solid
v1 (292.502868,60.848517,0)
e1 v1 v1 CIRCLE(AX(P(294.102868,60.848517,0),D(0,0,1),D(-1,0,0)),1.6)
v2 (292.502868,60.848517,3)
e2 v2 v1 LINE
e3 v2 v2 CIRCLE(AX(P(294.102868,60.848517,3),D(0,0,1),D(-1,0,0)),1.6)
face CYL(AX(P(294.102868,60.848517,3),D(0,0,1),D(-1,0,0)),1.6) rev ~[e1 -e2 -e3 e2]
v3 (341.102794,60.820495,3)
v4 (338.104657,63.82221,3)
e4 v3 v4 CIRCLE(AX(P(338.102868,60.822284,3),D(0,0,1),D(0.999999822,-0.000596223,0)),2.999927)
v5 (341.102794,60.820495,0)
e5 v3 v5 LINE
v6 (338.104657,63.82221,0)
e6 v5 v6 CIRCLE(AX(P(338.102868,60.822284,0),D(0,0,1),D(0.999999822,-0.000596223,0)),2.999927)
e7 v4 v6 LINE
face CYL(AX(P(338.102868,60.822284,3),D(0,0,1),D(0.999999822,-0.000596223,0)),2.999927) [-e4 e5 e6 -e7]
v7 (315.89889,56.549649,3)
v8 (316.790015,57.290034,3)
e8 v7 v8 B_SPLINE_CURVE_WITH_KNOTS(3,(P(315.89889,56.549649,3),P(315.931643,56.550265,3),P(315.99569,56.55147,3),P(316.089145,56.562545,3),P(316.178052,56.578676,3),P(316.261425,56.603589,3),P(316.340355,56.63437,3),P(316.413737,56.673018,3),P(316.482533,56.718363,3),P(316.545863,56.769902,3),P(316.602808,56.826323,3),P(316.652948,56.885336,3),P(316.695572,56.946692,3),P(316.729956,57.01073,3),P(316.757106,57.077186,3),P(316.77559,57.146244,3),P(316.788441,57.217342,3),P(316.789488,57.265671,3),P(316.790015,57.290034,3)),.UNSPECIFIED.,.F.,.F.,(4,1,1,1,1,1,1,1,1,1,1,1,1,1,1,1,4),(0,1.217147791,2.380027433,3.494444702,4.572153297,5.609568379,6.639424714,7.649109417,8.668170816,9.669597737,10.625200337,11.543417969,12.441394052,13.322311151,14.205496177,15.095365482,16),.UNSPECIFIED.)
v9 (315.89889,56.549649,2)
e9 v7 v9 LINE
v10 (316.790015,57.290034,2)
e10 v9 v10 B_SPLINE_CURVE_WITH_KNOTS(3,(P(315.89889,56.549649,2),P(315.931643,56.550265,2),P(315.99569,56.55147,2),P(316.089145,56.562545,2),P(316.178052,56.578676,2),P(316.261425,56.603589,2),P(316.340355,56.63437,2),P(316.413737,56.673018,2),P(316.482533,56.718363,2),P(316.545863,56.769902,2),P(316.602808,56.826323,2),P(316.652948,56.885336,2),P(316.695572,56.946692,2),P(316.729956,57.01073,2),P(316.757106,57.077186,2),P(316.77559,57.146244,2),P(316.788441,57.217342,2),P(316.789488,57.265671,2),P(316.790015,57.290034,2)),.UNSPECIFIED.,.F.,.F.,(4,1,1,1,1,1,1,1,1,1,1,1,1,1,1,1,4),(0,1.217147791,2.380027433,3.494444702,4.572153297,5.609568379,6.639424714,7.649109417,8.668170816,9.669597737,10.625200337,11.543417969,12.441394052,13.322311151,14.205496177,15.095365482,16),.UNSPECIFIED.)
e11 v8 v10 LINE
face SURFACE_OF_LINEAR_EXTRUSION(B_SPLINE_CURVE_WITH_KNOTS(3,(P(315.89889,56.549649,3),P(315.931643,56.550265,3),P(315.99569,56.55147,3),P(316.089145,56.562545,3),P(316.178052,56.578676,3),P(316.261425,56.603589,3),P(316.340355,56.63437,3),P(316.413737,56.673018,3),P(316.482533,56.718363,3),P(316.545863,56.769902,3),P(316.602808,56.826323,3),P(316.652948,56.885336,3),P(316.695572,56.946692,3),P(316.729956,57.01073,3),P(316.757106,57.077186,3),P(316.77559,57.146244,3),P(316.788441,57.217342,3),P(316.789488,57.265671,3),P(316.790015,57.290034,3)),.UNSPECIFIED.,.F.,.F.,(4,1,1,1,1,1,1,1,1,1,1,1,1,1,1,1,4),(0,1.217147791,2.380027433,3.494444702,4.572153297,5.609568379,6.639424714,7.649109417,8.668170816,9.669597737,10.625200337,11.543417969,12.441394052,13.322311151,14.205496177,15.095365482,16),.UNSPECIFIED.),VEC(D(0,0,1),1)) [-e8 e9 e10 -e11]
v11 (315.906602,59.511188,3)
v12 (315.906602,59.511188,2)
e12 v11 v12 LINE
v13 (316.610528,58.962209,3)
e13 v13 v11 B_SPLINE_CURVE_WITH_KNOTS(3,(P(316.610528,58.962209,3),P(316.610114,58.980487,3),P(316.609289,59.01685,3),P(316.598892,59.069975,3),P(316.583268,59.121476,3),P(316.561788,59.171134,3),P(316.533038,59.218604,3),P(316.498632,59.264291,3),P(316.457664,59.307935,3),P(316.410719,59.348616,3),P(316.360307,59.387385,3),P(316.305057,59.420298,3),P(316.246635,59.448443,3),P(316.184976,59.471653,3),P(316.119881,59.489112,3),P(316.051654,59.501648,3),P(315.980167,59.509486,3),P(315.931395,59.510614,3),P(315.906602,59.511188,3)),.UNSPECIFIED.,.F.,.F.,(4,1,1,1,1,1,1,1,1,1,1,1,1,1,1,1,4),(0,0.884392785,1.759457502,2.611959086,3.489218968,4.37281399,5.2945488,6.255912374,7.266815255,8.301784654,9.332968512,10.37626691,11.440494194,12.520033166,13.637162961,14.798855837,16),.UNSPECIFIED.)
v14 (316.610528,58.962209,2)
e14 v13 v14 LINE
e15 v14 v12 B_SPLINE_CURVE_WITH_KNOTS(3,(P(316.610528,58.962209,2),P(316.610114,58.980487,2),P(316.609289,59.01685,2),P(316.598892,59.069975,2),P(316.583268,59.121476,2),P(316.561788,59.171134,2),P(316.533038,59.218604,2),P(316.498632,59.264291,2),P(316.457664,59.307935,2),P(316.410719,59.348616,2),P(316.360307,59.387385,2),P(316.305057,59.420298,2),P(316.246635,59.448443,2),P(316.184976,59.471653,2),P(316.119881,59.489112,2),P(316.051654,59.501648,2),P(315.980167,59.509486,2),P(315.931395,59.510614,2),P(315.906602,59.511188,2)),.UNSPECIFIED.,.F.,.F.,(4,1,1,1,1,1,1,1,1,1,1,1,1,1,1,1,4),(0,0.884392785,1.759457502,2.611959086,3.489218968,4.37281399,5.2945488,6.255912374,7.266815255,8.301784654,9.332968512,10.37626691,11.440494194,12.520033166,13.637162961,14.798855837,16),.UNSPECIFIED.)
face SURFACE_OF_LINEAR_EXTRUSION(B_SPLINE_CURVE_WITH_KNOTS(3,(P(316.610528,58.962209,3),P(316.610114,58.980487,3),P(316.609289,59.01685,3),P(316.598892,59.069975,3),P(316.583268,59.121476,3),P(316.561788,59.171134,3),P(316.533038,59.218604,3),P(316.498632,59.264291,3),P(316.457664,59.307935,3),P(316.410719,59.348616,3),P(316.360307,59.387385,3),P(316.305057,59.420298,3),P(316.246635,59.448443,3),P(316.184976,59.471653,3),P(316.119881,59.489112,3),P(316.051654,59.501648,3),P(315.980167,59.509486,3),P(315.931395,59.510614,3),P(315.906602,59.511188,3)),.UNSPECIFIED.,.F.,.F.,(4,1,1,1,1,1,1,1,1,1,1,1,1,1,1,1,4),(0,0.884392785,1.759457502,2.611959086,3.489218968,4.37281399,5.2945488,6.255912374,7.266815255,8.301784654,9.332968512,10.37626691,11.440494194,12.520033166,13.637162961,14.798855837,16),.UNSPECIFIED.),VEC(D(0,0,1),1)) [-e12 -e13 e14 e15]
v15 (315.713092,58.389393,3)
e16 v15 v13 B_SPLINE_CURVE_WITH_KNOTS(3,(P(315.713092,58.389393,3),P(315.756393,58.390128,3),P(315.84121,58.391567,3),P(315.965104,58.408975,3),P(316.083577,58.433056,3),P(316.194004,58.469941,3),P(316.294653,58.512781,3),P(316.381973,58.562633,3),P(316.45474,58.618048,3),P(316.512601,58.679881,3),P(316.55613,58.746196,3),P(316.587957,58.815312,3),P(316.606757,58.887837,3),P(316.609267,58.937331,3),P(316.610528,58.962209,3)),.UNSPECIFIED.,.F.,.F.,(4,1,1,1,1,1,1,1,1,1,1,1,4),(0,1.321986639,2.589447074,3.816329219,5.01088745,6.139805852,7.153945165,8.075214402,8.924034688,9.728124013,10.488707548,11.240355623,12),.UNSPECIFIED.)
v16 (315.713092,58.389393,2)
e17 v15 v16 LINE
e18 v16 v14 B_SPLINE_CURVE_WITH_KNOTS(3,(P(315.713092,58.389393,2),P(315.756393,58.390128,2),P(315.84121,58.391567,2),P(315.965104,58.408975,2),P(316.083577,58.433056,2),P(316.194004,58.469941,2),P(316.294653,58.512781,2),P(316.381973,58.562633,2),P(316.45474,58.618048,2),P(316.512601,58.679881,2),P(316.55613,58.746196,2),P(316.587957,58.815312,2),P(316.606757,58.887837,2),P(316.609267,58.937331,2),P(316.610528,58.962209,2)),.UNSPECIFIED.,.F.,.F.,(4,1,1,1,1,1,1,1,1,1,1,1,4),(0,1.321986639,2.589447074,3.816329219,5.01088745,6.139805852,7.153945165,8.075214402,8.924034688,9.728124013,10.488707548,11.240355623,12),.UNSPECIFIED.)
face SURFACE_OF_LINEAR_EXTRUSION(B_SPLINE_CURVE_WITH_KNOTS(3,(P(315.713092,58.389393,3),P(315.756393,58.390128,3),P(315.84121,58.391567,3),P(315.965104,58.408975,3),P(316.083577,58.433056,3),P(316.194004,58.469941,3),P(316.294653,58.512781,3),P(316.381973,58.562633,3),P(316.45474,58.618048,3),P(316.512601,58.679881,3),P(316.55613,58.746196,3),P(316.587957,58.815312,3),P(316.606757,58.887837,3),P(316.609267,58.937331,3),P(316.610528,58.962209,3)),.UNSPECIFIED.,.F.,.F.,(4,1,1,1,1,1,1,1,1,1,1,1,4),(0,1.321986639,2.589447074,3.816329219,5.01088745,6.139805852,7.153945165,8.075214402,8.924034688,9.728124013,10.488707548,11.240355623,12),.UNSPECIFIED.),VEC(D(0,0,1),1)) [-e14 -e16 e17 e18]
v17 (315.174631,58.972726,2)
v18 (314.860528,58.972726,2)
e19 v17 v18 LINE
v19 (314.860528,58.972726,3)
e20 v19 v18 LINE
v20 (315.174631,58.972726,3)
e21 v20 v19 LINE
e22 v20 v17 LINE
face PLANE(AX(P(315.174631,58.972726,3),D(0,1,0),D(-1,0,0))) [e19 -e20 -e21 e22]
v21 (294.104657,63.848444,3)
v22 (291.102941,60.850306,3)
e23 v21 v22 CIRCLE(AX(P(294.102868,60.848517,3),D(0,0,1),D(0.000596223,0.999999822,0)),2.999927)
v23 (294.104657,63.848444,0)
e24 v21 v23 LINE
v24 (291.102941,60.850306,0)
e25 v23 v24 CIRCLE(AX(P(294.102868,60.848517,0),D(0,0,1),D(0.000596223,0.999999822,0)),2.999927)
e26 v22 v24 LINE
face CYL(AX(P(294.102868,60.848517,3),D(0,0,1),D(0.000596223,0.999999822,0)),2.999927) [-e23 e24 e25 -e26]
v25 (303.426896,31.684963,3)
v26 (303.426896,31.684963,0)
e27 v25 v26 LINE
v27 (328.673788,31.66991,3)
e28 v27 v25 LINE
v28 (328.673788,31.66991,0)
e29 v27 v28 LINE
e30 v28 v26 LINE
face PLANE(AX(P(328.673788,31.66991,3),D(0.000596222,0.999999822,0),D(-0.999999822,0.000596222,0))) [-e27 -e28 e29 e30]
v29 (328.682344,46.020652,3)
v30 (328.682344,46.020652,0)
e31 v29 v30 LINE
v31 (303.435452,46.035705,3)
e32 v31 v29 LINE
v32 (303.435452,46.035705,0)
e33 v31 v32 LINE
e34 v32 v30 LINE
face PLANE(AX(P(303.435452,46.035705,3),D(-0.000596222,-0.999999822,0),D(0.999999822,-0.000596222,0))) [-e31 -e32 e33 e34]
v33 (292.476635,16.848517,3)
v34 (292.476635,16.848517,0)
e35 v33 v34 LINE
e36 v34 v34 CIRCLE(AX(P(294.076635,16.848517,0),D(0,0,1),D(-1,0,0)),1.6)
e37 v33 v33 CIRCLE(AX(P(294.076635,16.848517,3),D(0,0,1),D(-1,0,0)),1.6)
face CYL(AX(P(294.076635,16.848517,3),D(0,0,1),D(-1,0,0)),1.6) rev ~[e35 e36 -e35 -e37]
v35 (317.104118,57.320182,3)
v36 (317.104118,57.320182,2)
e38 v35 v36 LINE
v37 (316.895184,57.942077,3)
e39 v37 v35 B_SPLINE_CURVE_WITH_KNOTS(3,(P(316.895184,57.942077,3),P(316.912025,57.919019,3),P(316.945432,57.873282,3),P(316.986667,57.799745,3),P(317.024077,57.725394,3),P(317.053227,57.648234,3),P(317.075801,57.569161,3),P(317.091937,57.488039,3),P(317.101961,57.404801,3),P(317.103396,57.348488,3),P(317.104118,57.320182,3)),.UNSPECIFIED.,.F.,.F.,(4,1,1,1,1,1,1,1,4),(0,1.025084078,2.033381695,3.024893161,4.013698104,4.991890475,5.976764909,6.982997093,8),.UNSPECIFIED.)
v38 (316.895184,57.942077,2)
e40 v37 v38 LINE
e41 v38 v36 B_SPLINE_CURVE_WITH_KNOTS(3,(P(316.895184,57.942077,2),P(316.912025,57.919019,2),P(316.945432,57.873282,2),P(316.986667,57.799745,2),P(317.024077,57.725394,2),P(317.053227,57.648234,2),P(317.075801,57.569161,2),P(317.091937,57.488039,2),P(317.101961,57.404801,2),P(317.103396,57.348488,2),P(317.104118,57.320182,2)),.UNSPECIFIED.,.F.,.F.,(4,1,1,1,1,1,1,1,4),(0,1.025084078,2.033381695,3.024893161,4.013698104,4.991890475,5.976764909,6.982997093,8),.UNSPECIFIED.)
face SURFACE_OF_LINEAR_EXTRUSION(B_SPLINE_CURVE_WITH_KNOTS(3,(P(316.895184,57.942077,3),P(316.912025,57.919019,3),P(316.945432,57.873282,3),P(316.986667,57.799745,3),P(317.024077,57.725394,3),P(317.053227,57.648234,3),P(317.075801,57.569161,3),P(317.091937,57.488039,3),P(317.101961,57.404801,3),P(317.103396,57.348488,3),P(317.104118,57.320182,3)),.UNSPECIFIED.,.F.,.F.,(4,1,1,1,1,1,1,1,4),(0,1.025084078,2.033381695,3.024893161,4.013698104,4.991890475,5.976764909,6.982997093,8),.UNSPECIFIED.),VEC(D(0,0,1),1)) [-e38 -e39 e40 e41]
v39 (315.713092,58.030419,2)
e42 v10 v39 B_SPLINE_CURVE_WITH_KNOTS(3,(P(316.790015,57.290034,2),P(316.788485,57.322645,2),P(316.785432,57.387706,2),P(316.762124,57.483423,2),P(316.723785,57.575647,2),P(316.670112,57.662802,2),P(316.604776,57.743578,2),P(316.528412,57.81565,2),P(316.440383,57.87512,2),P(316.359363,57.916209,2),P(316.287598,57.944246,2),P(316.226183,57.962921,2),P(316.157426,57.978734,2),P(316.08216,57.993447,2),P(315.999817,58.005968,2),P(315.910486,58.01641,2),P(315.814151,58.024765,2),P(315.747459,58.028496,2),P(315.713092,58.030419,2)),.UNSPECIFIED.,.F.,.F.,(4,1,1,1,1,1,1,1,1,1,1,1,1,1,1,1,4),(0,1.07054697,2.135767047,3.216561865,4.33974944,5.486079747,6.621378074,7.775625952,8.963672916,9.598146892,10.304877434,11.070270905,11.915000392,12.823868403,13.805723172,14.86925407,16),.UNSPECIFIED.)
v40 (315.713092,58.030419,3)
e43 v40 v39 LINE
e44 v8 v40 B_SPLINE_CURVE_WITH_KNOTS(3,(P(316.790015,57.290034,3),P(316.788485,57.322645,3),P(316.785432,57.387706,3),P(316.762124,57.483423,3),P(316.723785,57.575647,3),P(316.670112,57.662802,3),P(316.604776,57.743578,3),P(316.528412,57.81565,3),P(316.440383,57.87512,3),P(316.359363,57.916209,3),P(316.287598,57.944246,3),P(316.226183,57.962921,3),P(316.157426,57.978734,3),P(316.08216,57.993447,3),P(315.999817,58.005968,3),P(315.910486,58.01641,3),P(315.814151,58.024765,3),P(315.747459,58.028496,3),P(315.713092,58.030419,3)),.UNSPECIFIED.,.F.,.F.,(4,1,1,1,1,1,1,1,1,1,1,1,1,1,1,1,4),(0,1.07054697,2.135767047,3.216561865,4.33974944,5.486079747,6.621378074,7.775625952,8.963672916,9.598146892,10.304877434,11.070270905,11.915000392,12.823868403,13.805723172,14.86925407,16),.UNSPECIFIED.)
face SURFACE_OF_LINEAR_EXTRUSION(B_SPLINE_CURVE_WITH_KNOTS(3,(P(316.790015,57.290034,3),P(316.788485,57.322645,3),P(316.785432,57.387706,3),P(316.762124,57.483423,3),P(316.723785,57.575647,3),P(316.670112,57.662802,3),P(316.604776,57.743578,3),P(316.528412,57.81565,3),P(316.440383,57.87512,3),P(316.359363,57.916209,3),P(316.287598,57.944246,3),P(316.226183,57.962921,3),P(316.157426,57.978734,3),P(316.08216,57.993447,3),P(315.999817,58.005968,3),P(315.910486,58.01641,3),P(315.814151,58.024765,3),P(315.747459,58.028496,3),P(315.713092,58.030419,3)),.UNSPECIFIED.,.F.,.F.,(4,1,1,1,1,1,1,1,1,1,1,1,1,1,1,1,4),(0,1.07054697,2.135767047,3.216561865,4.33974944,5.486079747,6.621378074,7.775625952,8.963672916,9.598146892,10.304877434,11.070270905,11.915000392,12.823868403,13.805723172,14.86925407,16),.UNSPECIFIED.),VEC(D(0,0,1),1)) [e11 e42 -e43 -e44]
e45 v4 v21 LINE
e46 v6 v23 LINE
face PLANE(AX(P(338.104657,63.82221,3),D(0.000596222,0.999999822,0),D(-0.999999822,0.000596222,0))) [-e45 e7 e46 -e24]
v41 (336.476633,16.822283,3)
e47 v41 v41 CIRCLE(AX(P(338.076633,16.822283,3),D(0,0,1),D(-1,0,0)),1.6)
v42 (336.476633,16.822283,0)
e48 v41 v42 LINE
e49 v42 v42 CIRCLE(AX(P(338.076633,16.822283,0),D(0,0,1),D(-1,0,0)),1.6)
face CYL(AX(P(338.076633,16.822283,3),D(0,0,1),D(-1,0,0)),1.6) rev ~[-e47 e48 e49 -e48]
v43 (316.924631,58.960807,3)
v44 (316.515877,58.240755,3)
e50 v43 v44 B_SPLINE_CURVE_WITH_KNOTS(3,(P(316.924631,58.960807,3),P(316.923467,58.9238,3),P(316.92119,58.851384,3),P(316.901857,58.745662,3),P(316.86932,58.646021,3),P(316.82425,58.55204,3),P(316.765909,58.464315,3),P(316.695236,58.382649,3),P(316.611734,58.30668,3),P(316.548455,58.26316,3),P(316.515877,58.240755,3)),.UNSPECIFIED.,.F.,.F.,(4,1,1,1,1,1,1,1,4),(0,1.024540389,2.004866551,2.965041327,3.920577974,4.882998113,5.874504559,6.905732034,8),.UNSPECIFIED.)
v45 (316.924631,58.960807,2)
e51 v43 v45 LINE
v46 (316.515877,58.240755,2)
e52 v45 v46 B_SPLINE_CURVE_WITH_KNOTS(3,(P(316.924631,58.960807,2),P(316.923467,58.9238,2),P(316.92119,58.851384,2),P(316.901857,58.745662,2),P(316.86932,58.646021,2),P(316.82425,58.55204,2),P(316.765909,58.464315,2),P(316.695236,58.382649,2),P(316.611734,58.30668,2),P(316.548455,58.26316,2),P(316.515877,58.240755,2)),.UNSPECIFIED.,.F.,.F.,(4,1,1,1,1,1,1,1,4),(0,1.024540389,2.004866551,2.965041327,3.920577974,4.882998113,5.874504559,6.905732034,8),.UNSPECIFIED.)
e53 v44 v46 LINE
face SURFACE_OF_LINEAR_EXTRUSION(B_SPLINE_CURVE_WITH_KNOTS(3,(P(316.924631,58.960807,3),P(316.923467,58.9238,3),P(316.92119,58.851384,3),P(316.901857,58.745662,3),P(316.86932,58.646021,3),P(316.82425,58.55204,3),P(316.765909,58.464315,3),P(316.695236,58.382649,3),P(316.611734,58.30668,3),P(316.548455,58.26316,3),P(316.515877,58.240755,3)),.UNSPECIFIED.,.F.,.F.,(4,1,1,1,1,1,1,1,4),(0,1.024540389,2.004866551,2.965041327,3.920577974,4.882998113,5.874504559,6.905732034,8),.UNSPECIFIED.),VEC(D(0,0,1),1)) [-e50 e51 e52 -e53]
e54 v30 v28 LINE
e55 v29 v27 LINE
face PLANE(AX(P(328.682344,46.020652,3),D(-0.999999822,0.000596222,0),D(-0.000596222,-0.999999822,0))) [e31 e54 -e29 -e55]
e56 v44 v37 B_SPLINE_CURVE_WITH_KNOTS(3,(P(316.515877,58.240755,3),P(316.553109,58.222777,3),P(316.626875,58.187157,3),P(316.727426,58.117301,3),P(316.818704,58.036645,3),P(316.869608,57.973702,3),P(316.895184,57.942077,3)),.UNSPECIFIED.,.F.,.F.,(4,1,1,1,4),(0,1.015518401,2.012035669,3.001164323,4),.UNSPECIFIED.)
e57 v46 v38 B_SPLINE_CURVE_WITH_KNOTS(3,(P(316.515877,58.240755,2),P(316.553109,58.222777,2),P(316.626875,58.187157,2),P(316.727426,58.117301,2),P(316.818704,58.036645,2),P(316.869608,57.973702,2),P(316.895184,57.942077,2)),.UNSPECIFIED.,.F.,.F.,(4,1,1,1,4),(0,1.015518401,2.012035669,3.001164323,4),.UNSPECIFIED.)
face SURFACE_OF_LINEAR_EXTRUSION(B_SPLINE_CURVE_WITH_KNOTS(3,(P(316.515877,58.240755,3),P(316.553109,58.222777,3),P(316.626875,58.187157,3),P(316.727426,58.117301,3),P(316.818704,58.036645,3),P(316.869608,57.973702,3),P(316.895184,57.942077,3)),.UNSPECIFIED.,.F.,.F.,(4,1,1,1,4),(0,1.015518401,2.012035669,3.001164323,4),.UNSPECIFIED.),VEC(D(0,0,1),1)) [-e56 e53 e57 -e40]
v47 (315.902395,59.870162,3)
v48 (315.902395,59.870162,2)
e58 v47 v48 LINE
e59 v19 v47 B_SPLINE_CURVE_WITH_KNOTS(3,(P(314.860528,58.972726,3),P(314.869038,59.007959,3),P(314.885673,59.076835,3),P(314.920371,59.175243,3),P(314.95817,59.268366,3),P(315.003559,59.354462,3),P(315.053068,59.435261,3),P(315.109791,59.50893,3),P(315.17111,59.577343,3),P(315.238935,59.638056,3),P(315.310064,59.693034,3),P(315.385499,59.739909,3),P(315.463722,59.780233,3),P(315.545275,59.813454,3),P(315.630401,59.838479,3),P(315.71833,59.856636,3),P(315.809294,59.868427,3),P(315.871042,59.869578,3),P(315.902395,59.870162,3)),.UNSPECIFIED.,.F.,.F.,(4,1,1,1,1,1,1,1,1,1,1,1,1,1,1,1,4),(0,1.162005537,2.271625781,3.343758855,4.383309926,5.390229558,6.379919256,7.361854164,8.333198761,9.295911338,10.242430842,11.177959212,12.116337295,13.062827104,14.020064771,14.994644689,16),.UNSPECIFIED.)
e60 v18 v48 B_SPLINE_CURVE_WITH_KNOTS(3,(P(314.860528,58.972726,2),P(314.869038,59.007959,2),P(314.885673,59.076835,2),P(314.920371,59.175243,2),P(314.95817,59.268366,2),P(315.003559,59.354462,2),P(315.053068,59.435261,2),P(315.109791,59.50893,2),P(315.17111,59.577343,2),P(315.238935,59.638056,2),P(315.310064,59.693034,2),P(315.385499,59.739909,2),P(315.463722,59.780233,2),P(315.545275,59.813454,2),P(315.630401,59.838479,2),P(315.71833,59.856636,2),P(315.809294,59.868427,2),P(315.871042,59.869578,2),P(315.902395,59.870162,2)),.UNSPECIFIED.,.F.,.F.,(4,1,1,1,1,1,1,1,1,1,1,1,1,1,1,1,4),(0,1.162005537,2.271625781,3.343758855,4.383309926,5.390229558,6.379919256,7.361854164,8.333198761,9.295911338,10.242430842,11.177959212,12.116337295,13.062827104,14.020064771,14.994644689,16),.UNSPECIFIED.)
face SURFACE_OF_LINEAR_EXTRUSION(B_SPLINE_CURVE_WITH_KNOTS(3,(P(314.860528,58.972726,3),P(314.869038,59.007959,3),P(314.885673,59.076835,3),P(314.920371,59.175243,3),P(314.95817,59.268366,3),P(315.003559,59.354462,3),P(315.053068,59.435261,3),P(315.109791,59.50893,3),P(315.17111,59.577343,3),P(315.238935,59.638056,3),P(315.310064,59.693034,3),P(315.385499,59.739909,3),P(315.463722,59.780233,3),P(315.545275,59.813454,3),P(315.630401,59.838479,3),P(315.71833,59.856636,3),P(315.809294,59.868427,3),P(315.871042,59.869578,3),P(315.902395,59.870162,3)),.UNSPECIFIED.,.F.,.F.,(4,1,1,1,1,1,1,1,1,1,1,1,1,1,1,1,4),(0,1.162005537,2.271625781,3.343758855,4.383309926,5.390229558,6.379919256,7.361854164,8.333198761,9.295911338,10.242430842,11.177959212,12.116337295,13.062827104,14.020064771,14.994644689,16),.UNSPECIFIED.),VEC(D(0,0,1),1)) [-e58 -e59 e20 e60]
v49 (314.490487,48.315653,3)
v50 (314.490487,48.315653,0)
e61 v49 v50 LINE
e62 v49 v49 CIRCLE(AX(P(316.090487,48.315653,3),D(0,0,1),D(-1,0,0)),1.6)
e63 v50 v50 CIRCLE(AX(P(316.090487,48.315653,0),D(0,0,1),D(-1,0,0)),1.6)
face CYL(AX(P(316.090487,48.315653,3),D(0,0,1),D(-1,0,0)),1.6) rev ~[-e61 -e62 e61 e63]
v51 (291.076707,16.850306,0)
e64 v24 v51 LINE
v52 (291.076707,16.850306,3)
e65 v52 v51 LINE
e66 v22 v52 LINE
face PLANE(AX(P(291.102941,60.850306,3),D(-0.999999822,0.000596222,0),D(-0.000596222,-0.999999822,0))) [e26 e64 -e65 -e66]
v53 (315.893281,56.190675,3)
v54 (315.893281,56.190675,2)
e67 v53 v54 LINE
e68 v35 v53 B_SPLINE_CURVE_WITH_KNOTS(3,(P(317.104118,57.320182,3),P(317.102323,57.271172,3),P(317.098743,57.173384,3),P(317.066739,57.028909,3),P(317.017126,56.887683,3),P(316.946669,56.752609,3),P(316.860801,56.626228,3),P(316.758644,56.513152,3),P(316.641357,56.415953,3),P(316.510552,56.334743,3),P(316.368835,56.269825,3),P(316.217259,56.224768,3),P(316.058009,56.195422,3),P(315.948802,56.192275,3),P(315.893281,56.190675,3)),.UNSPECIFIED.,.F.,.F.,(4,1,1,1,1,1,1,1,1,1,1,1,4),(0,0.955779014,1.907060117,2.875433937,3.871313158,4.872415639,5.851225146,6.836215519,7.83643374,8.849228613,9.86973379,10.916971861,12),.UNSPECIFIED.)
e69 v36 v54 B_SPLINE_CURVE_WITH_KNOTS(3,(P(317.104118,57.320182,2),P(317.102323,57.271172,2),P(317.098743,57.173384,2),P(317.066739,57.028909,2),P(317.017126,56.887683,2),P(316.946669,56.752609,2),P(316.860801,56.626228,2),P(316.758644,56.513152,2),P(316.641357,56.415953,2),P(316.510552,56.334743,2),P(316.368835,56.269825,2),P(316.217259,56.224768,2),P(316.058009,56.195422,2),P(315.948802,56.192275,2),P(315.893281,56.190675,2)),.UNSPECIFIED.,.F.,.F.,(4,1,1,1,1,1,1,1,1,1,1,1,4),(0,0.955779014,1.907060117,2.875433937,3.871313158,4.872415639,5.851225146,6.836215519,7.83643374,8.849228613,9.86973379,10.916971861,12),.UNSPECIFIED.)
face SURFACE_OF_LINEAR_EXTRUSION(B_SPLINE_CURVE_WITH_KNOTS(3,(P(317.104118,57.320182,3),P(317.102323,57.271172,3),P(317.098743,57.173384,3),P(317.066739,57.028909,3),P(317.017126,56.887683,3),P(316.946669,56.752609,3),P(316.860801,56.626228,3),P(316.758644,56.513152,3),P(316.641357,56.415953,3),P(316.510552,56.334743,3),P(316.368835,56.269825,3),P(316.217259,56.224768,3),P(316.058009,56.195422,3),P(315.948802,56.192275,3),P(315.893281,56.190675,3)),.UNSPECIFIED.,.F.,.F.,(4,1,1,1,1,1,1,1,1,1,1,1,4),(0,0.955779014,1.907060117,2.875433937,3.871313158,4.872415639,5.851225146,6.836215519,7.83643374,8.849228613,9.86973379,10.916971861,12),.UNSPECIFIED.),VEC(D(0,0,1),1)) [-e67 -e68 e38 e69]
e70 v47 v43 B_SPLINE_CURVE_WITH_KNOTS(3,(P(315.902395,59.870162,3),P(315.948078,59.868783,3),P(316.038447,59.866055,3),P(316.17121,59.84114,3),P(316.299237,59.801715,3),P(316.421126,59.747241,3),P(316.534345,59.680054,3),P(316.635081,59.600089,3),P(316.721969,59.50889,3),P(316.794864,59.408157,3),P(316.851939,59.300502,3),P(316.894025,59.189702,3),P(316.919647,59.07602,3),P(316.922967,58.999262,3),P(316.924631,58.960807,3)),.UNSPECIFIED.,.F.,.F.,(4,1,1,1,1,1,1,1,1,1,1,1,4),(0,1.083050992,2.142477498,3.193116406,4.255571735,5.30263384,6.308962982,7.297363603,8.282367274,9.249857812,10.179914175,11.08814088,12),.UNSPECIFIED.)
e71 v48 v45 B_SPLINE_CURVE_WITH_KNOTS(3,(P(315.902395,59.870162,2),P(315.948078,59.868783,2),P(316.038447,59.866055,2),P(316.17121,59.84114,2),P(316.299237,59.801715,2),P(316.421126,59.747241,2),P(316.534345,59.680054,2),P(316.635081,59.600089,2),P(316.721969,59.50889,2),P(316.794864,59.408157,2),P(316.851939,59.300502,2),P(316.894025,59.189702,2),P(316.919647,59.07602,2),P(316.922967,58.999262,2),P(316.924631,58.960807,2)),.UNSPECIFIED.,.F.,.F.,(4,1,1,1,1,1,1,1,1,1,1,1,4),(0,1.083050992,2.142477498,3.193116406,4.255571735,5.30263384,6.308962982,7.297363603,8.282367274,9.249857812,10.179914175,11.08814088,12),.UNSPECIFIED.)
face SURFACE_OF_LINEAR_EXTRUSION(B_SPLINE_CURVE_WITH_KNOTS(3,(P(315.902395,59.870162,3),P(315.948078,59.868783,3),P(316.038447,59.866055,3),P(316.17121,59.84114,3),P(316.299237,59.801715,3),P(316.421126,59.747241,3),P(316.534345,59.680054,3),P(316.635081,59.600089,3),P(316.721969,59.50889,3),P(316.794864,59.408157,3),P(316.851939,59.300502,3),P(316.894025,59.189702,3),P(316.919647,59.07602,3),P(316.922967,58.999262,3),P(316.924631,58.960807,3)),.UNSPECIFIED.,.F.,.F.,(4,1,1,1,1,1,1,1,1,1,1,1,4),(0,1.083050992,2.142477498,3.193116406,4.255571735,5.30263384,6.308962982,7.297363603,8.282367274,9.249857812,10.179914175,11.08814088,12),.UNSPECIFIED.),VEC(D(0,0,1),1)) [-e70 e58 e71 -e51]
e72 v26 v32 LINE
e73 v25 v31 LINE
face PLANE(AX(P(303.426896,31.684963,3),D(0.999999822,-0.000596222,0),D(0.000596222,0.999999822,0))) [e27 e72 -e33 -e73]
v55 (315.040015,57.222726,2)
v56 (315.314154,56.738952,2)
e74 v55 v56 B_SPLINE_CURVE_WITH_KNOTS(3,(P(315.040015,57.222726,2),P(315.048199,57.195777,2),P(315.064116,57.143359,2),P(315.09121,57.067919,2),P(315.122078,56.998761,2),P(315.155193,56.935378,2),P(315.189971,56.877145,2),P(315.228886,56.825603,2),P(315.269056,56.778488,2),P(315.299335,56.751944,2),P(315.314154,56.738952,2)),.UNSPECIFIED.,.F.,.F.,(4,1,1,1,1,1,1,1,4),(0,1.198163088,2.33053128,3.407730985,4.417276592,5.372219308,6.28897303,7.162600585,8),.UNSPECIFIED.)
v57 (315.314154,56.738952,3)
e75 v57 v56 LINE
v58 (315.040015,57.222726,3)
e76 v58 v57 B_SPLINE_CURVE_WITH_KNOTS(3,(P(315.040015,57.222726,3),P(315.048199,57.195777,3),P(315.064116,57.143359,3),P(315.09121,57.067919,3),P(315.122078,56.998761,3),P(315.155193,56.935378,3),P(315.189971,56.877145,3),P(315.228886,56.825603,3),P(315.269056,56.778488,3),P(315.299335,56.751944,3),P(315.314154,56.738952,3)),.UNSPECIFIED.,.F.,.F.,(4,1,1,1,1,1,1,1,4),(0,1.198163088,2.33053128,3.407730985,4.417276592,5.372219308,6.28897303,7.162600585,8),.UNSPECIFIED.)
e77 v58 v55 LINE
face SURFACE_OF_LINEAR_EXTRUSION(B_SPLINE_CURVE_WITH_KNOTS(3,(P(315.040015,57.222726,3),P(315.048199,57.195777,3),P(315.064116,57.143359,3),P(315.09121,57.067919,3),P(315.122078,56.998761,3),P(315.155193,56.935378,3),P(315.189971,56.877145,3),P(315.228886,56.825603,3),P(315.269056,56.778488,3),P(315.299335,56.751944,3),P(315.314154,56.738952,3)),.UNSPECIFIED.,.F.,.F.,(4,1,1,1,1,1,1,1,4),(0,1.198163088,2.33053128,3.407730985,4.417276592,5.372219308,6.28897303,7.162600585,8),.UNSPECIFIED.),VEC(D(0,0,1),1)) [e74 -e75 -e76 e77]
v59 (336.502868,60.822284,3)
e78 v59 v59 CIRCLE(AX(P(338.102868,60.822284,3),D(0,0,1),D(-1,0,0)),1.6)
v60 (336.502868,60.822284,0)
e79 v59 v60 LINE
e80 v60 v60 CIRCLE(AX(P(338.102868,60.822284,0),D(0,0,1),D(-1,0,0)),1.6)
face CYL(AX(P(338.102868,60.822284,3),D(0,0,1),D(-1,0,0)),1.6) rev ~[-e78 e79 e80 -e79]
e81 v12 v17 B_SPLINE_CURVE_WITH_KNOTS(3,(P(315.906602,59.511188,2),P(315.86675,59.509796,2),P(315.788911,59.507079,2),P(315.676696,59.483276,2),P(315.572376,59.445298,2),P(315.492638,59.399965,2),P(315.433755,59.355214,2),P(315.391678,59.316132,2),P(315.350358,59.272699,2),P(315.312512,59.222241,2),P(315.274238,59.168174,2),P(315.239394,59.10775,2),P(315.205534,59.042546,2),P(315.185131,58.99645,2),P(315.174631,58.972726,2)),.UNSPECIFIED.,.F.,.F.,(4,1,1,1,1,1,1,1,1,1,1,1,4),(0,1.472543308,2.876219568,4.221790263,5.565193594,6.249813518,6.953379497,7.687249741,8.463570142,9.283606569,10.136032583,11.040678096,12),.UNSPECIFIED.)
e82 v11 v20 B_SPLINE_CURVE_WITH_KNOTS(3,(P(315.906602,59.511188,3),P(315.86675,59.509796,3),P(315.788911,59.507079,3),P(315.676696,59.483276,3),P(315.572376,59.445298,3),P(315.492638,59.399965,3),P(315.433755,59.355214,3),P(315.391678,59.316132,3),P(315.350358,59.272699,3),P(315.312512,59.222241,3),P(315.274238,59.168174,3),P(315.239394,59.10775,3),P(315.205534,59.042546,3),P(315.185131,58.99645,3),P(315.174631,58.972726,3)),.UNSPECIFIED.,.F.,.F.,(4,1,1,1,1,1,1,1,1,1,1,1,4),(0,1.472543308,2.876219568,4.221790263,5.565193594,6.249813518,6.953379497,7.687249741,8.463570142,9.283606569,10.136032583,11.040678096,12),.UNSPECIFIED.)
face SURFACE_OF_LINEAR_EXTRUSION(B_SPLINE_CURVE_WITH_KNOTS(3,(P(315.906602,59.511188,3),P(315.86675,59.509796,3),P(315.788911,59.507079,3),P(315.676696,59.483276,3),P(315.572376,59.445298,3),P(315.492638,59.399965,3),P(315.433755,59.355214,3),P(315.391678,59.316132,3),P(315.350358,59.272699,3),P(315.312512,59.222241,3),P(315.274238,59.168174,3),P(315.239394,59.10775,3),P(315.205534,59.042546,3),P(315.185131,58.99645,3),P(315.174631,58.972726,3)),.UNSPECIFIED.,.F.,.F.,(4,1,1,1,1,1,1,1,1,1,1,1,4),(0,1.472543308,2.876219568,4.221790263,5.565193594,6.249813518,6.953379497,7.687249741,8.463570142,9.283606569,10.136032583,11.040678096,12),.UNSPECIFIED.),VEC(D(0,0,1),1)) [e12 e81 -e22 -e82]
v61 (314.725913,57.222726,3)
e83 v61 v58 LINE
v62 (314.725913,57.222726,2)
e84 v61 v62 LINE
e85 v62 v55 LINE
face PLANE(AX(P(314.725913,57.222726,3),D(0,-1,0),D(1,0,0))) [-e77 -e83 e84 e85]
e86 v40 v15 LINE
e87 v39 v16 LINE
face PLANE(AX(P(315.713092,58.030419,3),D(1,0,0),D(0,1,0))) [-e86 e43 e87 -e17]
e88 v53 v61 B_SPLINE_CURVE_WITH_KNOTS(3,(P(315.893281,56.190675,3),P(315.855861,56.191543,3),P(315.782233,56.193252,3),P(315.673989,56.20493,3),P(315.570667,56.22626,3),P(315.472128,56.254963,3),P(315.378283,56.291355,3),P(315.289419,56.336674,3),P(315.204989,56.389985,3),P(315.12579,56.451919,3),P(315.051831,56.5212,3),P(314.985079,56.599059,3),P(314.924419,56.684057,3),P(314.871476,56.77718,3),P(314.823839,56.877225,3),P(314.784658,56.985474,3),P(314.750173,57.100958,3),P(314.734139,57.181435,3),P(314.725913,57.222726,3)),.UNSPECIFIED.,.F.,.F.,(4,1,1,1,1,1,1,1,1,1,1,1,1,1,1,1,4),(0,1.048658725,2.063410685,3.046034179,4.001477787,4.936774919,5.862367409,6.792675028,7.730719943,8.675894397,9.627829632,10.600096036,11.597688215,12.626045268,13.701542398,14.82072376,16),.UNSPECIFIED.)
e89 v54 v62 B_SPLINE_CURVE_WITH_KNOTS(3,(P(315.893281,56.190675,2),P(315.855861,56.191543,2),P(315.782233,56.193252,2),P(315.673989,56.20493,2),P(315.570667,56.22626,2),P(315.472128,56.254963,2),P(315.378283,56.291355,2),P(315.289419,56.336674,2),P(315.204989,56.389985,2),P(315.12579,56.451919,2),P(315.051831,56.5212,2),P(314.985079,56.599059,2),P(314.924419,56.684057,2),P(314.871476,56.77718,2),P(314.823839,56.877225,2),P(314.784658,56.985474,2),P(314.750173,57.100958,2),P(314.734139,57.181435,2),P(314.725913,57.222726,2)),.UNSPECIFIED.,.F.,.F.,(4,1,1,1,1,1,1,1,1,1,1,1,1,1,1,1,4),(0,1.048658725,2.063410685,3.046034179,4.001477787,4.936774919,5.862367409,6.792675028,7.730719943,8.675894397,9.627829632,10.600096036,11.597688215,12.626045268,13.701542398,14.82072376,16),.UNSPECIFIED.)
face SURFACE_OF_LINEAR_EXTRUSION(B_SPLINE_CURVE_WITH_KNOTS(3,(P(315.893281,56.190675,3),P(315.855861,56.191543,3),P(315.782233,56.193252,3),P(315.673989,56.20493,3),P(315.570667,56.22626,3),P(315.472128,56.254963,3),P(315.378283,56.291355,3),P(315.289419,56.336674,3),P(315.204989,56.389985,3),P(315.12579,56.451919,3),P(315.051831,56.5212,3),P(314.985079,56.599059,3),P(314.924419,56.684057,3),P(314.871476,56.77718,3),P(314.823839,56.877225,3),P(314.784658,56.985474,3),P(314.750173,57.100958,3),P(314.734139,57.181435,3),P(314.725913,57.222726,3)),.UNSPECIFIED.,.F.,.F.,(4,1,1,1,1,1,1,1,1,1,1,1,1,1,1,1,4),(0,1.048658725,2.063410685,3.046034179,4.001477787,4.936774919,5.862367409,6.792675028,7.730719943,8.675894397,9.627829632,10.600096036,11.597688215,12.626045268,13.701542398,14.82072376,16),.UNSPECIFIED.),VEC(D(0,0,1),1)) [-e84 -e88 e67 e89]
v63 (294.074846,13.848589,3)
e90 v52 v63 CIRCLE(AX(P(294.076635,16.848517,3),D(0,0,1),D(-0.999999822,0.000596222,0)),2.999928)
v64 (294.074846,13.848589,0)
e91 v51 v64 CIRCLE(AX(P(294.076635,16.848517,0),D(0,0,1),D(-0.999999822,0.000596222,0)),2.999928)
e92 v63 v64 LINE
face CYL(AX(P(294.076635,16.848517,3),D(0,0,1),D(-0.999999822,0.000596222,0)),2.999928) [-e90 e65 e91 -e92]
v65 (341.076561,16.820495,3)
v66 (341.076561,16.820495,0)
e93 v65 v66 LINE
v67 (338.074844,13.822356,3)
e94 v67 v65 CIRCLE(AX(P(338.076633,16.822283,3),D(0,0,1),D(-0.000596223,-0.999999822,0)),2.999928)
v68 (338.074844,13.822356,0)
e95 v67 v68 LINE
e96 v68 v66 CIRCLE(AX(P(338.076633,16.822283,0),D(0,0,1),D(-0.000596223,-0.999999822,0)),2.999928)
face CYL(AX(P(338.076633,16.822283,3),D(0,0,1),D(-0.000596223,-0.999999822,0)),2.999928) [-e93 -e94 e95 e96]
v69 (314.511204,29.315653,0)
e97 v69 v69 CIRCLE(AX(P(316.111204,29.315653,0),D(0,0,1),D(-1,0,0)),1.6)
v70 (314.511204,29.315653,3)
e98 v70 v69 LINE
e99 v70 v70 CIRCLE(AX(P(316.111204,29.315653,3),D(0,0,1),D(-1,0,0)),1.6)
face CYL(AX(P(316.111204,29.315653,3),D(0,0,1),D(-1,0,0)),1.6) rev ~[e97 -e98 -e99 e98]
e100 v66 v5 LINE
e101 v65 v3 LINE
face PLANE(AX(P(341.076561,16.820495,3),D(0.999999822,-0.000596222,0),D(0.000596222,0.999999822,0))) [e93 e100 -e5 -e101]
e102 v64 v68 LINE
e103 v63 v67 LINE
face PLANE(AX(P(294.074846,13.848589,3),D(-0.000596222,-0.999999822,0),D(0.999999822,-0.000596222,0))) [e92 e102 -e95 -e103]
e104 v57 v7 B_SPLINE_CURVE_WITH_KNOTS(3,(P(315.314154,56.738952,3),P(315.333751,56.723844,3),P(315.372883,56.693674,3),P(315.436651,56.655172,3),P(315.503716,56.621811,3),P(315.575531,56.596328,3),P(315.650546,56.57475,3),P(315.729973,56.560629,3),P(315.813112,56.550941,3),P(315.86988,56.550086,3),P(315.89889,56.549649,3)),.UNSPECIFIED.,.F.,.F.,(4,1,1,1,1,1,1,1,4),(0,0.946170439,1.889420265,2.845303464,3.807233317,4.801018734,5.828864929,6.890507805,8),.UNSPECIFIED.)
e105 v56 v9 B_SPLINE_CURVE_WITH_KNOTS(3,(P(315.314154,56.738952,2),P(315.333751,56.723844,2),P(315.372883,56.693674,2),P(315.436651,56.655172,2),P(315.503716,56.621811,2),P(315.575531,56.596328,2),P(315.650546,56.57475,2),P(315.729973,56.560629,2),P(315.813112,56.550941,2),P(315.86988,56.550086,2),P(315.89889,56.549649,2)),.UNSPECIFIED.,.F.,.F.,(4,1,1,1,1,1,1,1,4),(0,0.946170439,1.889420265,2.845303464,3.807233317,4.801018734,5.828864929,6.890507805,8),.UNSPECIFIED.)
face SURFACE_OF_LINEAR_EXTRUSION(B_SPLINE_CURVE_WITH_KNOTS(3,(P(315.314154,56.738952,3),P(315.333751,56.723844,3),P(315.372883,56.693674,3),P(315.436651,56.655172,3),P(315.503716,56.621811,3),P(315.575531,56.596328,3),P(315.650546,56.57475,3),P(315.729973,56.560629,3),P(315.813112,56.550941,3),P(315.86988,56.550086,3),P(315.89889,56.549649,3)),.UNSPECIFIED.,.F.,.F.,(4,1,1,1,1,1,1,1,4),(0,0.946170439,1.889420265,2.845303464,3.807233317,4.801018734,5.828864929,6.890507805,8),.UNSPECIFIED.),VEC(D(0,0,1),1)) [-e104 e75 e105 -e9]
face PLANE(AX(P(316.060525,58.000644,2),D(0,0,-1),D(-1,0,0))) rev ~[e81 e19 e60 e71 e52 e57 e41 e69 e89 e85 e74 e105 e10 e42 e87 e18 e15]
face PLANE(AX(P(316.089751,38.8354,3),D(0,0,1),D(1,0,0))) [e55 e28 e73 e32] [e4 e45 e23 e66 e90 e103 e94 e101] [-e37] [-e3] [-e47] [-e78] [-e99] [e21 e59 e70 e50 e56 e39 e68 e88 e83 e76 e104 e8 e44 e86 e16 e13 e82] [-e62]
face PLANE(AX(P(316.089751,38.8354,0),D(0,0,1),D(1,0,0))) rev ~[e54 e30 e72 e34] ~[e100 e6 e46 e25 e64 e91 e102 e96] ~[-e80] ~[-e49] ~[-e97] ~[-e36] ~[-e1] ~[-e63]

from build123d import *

# Parameters (mm, degrees)
SKETCH_1_R          = 1.6
EXTRUDE_1_DEPTH     = 3
CUT_EXTRUDE_1_DEPTH = 1


with BuildPart() as part:
    # 草图1 → 凸台-拉伸1 (new body)
    with BuildSketch(Plane.XY.offset(3)):
        with BuildLine():
            Line((291.102941136, 60.850305737), (291.076707349, 16.850305738))
            ThreePointArc((291.076707349, 16.850305738), (291.954101097, 14.728512603), (294.07484648, 13.848589358))
            Line((294.07484648, 13.848589358), (338.074844131, 13.822355573))
            ThreePointArc((338.074844131, 13.822355573), (340.196637266, 14.699749321), (341.07656051, 16.820494704))
            Line((341.07656051, 16.820494704), (341.102794297, 60.820495366))
            ThreePointArc((341.102794297, 60.820495366), (340.22540099, 62.942287436), (338.104656671, 63.822210239))
            Line((338.104656671, 63.822210239), (294.104656671, 63.848444025))
            ThreePointArc((294.104656671, 63.848444025), (291.982864133, 62.971050524), (291.102941136, 60.850305737))
        make_face()
        with Locations(Location((338.076632755, 16.822283328, 0), (0, 0, 180))):
            Circle(SKETCH_1_R, mode=Mode.SUBTRACT)
        with Locations(Location((294.102868048, 60.848517113, 0), (0, 0, 180))):
            Circle(SKETCH_1_R, mode=Mode.SUBTRACT)
        with Locations(Location((338.102868048, 60.822283989, 0), (0, 0, 180))):
            Circle(SKETCH_1_R, mode=Mode.SUBTRACT)
        with Locations(Location((294.076635104, 16.848517113, 0), (0, 0, 180))):
            Circle(SKETCH_1_R, mode=Mode.SUBTRACT)
        with Locations(Location((316.111204471, 29.315652621, 0), (0, 0, 180))):
            Circle(SKETCH_1_R, mode=Mode.SUBTRACT)
        with Locations(Location((316.090486738, 48.315652621, 0), (0, 0, 180))):
            Circle(SKETCH_1_R, mode=Mode.SUBTRACT)
        Polygon((303.43545239, 46.035704845), (328.682343893, 46.020652083), (328.673787658, 31.669910181), (303.426896156, 31.684962944), align=None, mode=Mode.SUBTRACT)
    extrude(amount=-EXTRUDE_1_DEPTH)

    # 草图2 → 切除-拉伸1 (cut)
    with BuildSketch(Plane.XY.offset(3)):
        with BuildLine():
            Line((315.174630784, 58.972726271), (314.86052822, 58.972726271))
            add(Edge.make_bspline(
                [(314.86052822, 58.972726271), (314.869037771, 59.007958755), (314.885673246, 59.07683538), (314.92037082, 59.17524264), (314.958170075, 59.268366162), (315.003559179, 59.354462236), (315.053067934, 59.435261138), (315.109790655, 59.508930263), (315.171110378, 59.577343228), (315.238935327, 59.638056466), (315.310063989, 59.693034195), (315.385498608, 59.739909252), (315.463721502, 59.780233405), (315.545274635, 59.813453637), (315.630400807, 59.838479161), (315.71833043, 59.856635966), (315.80929393, 59.868427081), (315.871041521, 59.869577844), (315.902395207, 59.870162169)],
                knots=[0, 0, 0, 0, 1.162005537, 2.271625781, 3.343758855, 4.383309926, 5.390229558, 6.379919256, 7.361854164, 8.333198761, 9.295911338, 10.242430842, 11.177959212, 12.116337295, 13.062827104, 14.020064771, 14.994644689, 16, 16, 16, 16], degree=3))
            add(Edge.make_bspline(
                [(315.902395207, 59.870162169), (315.948077949, 59.868782938), (316.03844696, 59.866054563), (316.171210007, 59.841140127), (316.299236826, 59.801714994), (316.421126074, 59.747241267), (316.534344507, 59.680053954), (316.635080693, 59.600089217), (316.721969204, 59.508889915), (316.794863582, 59.408157351), (316.851938581, 59.300501842), (316.894024954, 59.189701685), (316.919646635, 59.076019713), (316.922967192, 58.999262434), (316.924630784, 58.960807201)],
                knots=[0, 0, 0, 0, 1.083050992, 2.142477498, 3.193116406, 4.255571735, 5.30263384, 6.308962982, 7.297363603, 8.282367274, 9.249857812, 10.179914175, 11.08814088, 12, 12, 12, 12], degree=3))
            add(Edge.make_bspline(
                [(316.924630784, 58.960807201), (316.923467193, 58.923800406), (316.921190226, 58.851383852), (316.90185652, 58.745662354), (316.869320257, 58.646020754), (316.824250495, 58.552039592), (316.765908945, 58.464314752), (316.695236248, 58.382648861), (316.611733586, 58.306679703), (316.548454648, 58.26316023), (316.515876778, 58.240755117)],
                knots=[0, 0, 0, 0, 1.024540389, 2.004866551, 2.965041327, 3.920577974, 4.882998113, 5.874504559, 6.905732034, 8, 8, 8, 8], degree=3))
            add(Edge.make_bspline(
                [(316.515876778, 58.240755117), (316.553108532, 58.222776946), (316.626875406, 58.187156988), (316.727425936, 58.117301231), (316.818703811, 58.036644883), (316.86960753, 57.97370223), (316.895183669, 57.942077233)],
                knots=[0, 0, 0, 0, 1.015518401, 2.012035669, 3.001164323, 4, 4, 4, 4], degree=3))
            add(Edge.make_bspline(
                [(316.895183669, 57.942077233), (316.912025011, 57.919019481), (316.945431907, 57.873281565), (316.986667441, 57.799745139), (317.024076555, 57.725393649), (317.053226774, 57.648234243), (317.075800641, 57.56916123), (317.091936674, 57.488038834), (317.101960814, 57.404800811), (317.103396366, 57.348488331), (317.104117964, 57.320182201)],
                knots=[0, 0, 0, 0, 1.025084078, 2.033381695, 3.024893161, 4.013698104, 4.991890475, 5.976764909, 6.982997093, 8, 8, 8, 8], degree=3))
            add(Edge.make_bspline(
                [(317.104117964, 57.320182201), (317.10232345, 57.27117248), (317.098742868, 57.173383678), (317.066738794, 57.028908956), (317.017125553, 56.887683454), (316.946668617, 56.752608615), (316.860801108, 56.626228234), (316.758643784, 56.513151925), (316.641357376, 56.41595332), (316.510551727, 56.334743092), (316.368834598, 56.26982517), (316.217259006, 56.224767727), (316.058008952, 56.195421727), (315.948801655, 56.192274859), (315.893280624, 56.190674989)],
                knots=[0, 0, 0, 0, 0.955779014, 1.907060117, 2.875433937, 3.871313158, 4.872415639, 5.851225146, 6.836215519, 7.83643374, 8.849228613, 9.86973379, 10.916971861, 12, 12, 12, 12], degree=3))
            add(Edge.make_bspline(
                [(315.893280624, 56.190674989), (315.855861324, 56.191543202), (315.782232618, 56.193251557), (315.67398912, 56.204930158), (315.570667421, 56.226260163), (315.472127823, 56.254963468), (315.378282786, 56.291355211), (315.289418681, 56.336673909), (315.204988788, 56.389985411), (315.125789837, 56.451918998), (315.051831269, 56.521200338), (314.985078545, 56.599059348), (314.924418752, 56.684056752), (314.871476113, 56.777179808), (314.82383916, 56.877225066), (314.784658204, 56.985473564), (314.750172635, 57.100957586), (314.734139171, 57.181435326), (314.725912835, 57.222726271)],
                knots=[0, 0, 0, 0, 1.048658725, 2.063410685, 3.046034179, 4.001477787, 4.936774919, 5.862367409, 6.792675028, 7.730719943, 8.675894397, 9.627829632, 10.600096036, 11.597688215, 12.626045268, 13.701542398, 14.82072376, 16, 16, 16, 16], degree=3))
            Line((314.725912835, 57.222726271), (315.040015399, 57.222726271))
            add(Edge.make_bspline(
                [(315.040015399, 57.222726271), (315.048198691, 57.195777258), (315.064115904, 57.143359086), (315.091210202, 57.067918781), (315.122078474, 56.998760727), (315.155193032, 56.935377606), (315.189971478, 56.877145203), (315.228886403, 56.825603334), (315.269055549, 56.778488132), (315.299334902, 56.75194352), (315.314154021, 56.738952233)],
                knots=[0, 0, 0, 0, 1.198163088, 2.33053128, 3.407730985, 4.417276592, 5.372219308, 6.28897303, 7.162600585, 8, 8, 8, 8], degree=3))
            add(Edge.make_bspline(
                [(315.314154021, 56.738952233), (315.333750598, 56.723843899), (315.372883261, 56.693673867), (315.436651492, 56.655172239), (315.503716378, 56.621811213), (315.575531052, 56.596327518), (315.650545823, 56.574749857), (315.729973188, 56.560629338), (315.813112405, 56.550941166), (315.869880168, 56.550086235), (315.898889598, 56.549649348)],
                knots=[0, 0, 0, 0, 0.946170439, 1.889420265, 2.845303464, 3.807233317, 4.801018734, 5.828864929, 6.890507805, 8, 8, 8, 8], degree=3))
            add(Edge.make_bspline(
                [(315.898889598, 56.549649348), (315.931643101, 56.550265253), (315.995689748, 56.551469603), (316.089144607, 56.56254531), (316.178052055, 56.578675723), (316.26142498, 56.603588706), (316.340355488, 56.634369558), (316.413737137, 56.673017963), (316.482533244, 56.718362685), (316.545862649, 56.769901843), (316.602808157, 56.826323338), (316.65294767, 56.885336409), (316.695572331, 56.946692239), (316.729955909, 57.01073036), (316.75710646, 57.077185589), (316.77558966, 57.146244418), (316.788441175, 57.217341684), (316.789487788, 57.265670653), (316.790015399, 57.290033964)],
                knots=[0, 0, 0, 0, 1.217147791, 2.380027433, 3.494444702, 4.572153297, 5.609568379, 6.639424714, 7.649109417, 8.668170816, 9.669597737, 10.625200337, 11.543417969, 12.441394052, 13.322311151, 14.205496177, 15.095365482, 16, 16, 16, 16], degree=3))
            add(Edge.make_bspline(
                [(316.790015399, 57.290033964), (316.788485098, 57.322645302), (316.785432109, 57.387705711), (316.76212353, 57.483423285), (316.723784666, 57.575646697), (316.670112154, 57.662802487), (316.604776426, 57.743578389), (316.528411519, 57.815649871), (316.440383291, 57.875119963), (316.359363422, 57.916208619), (316.287598265, 57.944245694), (316.226182881, 57.962920659), (316.157426277, 57.978734314), (316.082159928, 57.993446586), (315.999816712, 58.005967934), (315.910486274, 58.01640975), (315.814150512, 58.024764791), (315.747459346, 58.028495886), (315.713092323, 58.030418579)],
                knots=[0, 0, 0, 0, 1.07054697, 2.135767047, 3.216561865, 4.33974944, 5.486079747, 6.621378074, 7.775625952, 8.963672916, 9.598146892, 10.304877434, 11.070270905, 11.915000392, 12.823868403, 13.805723172, 14.86925407, 16, 16, 16, 16], degree=3))
            Line((315.713092323, 58.030418579), (315.713092323, 58.389392938))
            add(Edge.make_bspline(
                [(315.713092323, 58.389392938), (315.756393488, 58.390127742), (315.841209835, 58.391567042), (315.96510414, 58.408975052), (316.083577452, 58.43305568), (316.194004194, 58.469940872), (316.294652907, 58.512781169), (316.381972509, 58.562633379), (316.454739656, 58.618048128), (316.512600728, 58.679880737), (316.556129957, 58.746195785), (316.587956754, 58.815312442), (316.60675708, 58.887836503), (316.609266747, 58.937331171), (316.61052822, 58.962209444)],
                knots=[0, 0, 0, 0, 1.321986639, 2.589447074, 3.816329219, 5.01088745, 6.139805852, 7.153945165, 8.075214402, 8.924034688, 9.728124013, 10.488707548, 11.240355623, 12, 12, 12, 12], degree=3))
            add(Edge.make_bspline(
                [(316.61052822, 58.962209444), (316.610113809, 58.980487189), (316.609289358, 59.016849897), (316.59889208, 59.069974965), (316.583268039, 59.121475911), (316.56178831, 59.171133721), (316.533038111, 59.218603995), (316.498632125, 59.264291444), (316.457664024, 59.307935223), (316.410718577, 59.348615543), (316.360306772, 59.38738478), (316.305056997, 59.420298417), (316.246635123, 59.448443479), (316.184976468, 59.471652981), (316.119880938, 59.489112269), (316.05165438, 59.501648111), (315.980166696, 59.509485766), (315.931394964, 59.510614181), (315.906601938, 59.51118781)],
                knots=[0, 0, 0, 0, 0.884392785, 1.759457502, 2.611959086, 3.489218968, 4.37281399, 5.2945488, 6.255912374, 7.266815255, 8.301784654, 9.332968512, 10.37626691, 11.440494194, 12.520033166, 13.637162961, 14.798855837, 16, 16, 16, 16], degree=3))
            add(Edge.make_bspline(
                [(315.906601938, 59.51118781), (315.86675027, 59.509796448), (315.788910694, 59.507078794), (315.676695777, 59.483275781), (315.572376443, 59.445297697), (315.492637776, 59.399964678), (315.433755202, 59.355214244), (315.391678264, 59.316131858), (315.350357753, 59.272699034), (315.312512076, 59.222240659), (315.2742381, 59.168173868), (315.239393538, 59.107750187), (315.205533846, 59.042545793), (315.185131296, 58.996450158), (315.174630784, 58.972726271)],
                knots=[0, 0, 0, 0, 1.472543308, 2.876219568, 4.221790263, 5.565193594, 6.249813518, 6.953379497, 7.687249741, 8.463570142, 9.283606569, 10.136032583, 11.040678096, 12, 12, 12, 12], degree=3))
        make_face()
    extrude(amount=-CUT_EXTRUDE_1_DEPTH, mode=Mode.SUBTRACT)


solid = part.part
